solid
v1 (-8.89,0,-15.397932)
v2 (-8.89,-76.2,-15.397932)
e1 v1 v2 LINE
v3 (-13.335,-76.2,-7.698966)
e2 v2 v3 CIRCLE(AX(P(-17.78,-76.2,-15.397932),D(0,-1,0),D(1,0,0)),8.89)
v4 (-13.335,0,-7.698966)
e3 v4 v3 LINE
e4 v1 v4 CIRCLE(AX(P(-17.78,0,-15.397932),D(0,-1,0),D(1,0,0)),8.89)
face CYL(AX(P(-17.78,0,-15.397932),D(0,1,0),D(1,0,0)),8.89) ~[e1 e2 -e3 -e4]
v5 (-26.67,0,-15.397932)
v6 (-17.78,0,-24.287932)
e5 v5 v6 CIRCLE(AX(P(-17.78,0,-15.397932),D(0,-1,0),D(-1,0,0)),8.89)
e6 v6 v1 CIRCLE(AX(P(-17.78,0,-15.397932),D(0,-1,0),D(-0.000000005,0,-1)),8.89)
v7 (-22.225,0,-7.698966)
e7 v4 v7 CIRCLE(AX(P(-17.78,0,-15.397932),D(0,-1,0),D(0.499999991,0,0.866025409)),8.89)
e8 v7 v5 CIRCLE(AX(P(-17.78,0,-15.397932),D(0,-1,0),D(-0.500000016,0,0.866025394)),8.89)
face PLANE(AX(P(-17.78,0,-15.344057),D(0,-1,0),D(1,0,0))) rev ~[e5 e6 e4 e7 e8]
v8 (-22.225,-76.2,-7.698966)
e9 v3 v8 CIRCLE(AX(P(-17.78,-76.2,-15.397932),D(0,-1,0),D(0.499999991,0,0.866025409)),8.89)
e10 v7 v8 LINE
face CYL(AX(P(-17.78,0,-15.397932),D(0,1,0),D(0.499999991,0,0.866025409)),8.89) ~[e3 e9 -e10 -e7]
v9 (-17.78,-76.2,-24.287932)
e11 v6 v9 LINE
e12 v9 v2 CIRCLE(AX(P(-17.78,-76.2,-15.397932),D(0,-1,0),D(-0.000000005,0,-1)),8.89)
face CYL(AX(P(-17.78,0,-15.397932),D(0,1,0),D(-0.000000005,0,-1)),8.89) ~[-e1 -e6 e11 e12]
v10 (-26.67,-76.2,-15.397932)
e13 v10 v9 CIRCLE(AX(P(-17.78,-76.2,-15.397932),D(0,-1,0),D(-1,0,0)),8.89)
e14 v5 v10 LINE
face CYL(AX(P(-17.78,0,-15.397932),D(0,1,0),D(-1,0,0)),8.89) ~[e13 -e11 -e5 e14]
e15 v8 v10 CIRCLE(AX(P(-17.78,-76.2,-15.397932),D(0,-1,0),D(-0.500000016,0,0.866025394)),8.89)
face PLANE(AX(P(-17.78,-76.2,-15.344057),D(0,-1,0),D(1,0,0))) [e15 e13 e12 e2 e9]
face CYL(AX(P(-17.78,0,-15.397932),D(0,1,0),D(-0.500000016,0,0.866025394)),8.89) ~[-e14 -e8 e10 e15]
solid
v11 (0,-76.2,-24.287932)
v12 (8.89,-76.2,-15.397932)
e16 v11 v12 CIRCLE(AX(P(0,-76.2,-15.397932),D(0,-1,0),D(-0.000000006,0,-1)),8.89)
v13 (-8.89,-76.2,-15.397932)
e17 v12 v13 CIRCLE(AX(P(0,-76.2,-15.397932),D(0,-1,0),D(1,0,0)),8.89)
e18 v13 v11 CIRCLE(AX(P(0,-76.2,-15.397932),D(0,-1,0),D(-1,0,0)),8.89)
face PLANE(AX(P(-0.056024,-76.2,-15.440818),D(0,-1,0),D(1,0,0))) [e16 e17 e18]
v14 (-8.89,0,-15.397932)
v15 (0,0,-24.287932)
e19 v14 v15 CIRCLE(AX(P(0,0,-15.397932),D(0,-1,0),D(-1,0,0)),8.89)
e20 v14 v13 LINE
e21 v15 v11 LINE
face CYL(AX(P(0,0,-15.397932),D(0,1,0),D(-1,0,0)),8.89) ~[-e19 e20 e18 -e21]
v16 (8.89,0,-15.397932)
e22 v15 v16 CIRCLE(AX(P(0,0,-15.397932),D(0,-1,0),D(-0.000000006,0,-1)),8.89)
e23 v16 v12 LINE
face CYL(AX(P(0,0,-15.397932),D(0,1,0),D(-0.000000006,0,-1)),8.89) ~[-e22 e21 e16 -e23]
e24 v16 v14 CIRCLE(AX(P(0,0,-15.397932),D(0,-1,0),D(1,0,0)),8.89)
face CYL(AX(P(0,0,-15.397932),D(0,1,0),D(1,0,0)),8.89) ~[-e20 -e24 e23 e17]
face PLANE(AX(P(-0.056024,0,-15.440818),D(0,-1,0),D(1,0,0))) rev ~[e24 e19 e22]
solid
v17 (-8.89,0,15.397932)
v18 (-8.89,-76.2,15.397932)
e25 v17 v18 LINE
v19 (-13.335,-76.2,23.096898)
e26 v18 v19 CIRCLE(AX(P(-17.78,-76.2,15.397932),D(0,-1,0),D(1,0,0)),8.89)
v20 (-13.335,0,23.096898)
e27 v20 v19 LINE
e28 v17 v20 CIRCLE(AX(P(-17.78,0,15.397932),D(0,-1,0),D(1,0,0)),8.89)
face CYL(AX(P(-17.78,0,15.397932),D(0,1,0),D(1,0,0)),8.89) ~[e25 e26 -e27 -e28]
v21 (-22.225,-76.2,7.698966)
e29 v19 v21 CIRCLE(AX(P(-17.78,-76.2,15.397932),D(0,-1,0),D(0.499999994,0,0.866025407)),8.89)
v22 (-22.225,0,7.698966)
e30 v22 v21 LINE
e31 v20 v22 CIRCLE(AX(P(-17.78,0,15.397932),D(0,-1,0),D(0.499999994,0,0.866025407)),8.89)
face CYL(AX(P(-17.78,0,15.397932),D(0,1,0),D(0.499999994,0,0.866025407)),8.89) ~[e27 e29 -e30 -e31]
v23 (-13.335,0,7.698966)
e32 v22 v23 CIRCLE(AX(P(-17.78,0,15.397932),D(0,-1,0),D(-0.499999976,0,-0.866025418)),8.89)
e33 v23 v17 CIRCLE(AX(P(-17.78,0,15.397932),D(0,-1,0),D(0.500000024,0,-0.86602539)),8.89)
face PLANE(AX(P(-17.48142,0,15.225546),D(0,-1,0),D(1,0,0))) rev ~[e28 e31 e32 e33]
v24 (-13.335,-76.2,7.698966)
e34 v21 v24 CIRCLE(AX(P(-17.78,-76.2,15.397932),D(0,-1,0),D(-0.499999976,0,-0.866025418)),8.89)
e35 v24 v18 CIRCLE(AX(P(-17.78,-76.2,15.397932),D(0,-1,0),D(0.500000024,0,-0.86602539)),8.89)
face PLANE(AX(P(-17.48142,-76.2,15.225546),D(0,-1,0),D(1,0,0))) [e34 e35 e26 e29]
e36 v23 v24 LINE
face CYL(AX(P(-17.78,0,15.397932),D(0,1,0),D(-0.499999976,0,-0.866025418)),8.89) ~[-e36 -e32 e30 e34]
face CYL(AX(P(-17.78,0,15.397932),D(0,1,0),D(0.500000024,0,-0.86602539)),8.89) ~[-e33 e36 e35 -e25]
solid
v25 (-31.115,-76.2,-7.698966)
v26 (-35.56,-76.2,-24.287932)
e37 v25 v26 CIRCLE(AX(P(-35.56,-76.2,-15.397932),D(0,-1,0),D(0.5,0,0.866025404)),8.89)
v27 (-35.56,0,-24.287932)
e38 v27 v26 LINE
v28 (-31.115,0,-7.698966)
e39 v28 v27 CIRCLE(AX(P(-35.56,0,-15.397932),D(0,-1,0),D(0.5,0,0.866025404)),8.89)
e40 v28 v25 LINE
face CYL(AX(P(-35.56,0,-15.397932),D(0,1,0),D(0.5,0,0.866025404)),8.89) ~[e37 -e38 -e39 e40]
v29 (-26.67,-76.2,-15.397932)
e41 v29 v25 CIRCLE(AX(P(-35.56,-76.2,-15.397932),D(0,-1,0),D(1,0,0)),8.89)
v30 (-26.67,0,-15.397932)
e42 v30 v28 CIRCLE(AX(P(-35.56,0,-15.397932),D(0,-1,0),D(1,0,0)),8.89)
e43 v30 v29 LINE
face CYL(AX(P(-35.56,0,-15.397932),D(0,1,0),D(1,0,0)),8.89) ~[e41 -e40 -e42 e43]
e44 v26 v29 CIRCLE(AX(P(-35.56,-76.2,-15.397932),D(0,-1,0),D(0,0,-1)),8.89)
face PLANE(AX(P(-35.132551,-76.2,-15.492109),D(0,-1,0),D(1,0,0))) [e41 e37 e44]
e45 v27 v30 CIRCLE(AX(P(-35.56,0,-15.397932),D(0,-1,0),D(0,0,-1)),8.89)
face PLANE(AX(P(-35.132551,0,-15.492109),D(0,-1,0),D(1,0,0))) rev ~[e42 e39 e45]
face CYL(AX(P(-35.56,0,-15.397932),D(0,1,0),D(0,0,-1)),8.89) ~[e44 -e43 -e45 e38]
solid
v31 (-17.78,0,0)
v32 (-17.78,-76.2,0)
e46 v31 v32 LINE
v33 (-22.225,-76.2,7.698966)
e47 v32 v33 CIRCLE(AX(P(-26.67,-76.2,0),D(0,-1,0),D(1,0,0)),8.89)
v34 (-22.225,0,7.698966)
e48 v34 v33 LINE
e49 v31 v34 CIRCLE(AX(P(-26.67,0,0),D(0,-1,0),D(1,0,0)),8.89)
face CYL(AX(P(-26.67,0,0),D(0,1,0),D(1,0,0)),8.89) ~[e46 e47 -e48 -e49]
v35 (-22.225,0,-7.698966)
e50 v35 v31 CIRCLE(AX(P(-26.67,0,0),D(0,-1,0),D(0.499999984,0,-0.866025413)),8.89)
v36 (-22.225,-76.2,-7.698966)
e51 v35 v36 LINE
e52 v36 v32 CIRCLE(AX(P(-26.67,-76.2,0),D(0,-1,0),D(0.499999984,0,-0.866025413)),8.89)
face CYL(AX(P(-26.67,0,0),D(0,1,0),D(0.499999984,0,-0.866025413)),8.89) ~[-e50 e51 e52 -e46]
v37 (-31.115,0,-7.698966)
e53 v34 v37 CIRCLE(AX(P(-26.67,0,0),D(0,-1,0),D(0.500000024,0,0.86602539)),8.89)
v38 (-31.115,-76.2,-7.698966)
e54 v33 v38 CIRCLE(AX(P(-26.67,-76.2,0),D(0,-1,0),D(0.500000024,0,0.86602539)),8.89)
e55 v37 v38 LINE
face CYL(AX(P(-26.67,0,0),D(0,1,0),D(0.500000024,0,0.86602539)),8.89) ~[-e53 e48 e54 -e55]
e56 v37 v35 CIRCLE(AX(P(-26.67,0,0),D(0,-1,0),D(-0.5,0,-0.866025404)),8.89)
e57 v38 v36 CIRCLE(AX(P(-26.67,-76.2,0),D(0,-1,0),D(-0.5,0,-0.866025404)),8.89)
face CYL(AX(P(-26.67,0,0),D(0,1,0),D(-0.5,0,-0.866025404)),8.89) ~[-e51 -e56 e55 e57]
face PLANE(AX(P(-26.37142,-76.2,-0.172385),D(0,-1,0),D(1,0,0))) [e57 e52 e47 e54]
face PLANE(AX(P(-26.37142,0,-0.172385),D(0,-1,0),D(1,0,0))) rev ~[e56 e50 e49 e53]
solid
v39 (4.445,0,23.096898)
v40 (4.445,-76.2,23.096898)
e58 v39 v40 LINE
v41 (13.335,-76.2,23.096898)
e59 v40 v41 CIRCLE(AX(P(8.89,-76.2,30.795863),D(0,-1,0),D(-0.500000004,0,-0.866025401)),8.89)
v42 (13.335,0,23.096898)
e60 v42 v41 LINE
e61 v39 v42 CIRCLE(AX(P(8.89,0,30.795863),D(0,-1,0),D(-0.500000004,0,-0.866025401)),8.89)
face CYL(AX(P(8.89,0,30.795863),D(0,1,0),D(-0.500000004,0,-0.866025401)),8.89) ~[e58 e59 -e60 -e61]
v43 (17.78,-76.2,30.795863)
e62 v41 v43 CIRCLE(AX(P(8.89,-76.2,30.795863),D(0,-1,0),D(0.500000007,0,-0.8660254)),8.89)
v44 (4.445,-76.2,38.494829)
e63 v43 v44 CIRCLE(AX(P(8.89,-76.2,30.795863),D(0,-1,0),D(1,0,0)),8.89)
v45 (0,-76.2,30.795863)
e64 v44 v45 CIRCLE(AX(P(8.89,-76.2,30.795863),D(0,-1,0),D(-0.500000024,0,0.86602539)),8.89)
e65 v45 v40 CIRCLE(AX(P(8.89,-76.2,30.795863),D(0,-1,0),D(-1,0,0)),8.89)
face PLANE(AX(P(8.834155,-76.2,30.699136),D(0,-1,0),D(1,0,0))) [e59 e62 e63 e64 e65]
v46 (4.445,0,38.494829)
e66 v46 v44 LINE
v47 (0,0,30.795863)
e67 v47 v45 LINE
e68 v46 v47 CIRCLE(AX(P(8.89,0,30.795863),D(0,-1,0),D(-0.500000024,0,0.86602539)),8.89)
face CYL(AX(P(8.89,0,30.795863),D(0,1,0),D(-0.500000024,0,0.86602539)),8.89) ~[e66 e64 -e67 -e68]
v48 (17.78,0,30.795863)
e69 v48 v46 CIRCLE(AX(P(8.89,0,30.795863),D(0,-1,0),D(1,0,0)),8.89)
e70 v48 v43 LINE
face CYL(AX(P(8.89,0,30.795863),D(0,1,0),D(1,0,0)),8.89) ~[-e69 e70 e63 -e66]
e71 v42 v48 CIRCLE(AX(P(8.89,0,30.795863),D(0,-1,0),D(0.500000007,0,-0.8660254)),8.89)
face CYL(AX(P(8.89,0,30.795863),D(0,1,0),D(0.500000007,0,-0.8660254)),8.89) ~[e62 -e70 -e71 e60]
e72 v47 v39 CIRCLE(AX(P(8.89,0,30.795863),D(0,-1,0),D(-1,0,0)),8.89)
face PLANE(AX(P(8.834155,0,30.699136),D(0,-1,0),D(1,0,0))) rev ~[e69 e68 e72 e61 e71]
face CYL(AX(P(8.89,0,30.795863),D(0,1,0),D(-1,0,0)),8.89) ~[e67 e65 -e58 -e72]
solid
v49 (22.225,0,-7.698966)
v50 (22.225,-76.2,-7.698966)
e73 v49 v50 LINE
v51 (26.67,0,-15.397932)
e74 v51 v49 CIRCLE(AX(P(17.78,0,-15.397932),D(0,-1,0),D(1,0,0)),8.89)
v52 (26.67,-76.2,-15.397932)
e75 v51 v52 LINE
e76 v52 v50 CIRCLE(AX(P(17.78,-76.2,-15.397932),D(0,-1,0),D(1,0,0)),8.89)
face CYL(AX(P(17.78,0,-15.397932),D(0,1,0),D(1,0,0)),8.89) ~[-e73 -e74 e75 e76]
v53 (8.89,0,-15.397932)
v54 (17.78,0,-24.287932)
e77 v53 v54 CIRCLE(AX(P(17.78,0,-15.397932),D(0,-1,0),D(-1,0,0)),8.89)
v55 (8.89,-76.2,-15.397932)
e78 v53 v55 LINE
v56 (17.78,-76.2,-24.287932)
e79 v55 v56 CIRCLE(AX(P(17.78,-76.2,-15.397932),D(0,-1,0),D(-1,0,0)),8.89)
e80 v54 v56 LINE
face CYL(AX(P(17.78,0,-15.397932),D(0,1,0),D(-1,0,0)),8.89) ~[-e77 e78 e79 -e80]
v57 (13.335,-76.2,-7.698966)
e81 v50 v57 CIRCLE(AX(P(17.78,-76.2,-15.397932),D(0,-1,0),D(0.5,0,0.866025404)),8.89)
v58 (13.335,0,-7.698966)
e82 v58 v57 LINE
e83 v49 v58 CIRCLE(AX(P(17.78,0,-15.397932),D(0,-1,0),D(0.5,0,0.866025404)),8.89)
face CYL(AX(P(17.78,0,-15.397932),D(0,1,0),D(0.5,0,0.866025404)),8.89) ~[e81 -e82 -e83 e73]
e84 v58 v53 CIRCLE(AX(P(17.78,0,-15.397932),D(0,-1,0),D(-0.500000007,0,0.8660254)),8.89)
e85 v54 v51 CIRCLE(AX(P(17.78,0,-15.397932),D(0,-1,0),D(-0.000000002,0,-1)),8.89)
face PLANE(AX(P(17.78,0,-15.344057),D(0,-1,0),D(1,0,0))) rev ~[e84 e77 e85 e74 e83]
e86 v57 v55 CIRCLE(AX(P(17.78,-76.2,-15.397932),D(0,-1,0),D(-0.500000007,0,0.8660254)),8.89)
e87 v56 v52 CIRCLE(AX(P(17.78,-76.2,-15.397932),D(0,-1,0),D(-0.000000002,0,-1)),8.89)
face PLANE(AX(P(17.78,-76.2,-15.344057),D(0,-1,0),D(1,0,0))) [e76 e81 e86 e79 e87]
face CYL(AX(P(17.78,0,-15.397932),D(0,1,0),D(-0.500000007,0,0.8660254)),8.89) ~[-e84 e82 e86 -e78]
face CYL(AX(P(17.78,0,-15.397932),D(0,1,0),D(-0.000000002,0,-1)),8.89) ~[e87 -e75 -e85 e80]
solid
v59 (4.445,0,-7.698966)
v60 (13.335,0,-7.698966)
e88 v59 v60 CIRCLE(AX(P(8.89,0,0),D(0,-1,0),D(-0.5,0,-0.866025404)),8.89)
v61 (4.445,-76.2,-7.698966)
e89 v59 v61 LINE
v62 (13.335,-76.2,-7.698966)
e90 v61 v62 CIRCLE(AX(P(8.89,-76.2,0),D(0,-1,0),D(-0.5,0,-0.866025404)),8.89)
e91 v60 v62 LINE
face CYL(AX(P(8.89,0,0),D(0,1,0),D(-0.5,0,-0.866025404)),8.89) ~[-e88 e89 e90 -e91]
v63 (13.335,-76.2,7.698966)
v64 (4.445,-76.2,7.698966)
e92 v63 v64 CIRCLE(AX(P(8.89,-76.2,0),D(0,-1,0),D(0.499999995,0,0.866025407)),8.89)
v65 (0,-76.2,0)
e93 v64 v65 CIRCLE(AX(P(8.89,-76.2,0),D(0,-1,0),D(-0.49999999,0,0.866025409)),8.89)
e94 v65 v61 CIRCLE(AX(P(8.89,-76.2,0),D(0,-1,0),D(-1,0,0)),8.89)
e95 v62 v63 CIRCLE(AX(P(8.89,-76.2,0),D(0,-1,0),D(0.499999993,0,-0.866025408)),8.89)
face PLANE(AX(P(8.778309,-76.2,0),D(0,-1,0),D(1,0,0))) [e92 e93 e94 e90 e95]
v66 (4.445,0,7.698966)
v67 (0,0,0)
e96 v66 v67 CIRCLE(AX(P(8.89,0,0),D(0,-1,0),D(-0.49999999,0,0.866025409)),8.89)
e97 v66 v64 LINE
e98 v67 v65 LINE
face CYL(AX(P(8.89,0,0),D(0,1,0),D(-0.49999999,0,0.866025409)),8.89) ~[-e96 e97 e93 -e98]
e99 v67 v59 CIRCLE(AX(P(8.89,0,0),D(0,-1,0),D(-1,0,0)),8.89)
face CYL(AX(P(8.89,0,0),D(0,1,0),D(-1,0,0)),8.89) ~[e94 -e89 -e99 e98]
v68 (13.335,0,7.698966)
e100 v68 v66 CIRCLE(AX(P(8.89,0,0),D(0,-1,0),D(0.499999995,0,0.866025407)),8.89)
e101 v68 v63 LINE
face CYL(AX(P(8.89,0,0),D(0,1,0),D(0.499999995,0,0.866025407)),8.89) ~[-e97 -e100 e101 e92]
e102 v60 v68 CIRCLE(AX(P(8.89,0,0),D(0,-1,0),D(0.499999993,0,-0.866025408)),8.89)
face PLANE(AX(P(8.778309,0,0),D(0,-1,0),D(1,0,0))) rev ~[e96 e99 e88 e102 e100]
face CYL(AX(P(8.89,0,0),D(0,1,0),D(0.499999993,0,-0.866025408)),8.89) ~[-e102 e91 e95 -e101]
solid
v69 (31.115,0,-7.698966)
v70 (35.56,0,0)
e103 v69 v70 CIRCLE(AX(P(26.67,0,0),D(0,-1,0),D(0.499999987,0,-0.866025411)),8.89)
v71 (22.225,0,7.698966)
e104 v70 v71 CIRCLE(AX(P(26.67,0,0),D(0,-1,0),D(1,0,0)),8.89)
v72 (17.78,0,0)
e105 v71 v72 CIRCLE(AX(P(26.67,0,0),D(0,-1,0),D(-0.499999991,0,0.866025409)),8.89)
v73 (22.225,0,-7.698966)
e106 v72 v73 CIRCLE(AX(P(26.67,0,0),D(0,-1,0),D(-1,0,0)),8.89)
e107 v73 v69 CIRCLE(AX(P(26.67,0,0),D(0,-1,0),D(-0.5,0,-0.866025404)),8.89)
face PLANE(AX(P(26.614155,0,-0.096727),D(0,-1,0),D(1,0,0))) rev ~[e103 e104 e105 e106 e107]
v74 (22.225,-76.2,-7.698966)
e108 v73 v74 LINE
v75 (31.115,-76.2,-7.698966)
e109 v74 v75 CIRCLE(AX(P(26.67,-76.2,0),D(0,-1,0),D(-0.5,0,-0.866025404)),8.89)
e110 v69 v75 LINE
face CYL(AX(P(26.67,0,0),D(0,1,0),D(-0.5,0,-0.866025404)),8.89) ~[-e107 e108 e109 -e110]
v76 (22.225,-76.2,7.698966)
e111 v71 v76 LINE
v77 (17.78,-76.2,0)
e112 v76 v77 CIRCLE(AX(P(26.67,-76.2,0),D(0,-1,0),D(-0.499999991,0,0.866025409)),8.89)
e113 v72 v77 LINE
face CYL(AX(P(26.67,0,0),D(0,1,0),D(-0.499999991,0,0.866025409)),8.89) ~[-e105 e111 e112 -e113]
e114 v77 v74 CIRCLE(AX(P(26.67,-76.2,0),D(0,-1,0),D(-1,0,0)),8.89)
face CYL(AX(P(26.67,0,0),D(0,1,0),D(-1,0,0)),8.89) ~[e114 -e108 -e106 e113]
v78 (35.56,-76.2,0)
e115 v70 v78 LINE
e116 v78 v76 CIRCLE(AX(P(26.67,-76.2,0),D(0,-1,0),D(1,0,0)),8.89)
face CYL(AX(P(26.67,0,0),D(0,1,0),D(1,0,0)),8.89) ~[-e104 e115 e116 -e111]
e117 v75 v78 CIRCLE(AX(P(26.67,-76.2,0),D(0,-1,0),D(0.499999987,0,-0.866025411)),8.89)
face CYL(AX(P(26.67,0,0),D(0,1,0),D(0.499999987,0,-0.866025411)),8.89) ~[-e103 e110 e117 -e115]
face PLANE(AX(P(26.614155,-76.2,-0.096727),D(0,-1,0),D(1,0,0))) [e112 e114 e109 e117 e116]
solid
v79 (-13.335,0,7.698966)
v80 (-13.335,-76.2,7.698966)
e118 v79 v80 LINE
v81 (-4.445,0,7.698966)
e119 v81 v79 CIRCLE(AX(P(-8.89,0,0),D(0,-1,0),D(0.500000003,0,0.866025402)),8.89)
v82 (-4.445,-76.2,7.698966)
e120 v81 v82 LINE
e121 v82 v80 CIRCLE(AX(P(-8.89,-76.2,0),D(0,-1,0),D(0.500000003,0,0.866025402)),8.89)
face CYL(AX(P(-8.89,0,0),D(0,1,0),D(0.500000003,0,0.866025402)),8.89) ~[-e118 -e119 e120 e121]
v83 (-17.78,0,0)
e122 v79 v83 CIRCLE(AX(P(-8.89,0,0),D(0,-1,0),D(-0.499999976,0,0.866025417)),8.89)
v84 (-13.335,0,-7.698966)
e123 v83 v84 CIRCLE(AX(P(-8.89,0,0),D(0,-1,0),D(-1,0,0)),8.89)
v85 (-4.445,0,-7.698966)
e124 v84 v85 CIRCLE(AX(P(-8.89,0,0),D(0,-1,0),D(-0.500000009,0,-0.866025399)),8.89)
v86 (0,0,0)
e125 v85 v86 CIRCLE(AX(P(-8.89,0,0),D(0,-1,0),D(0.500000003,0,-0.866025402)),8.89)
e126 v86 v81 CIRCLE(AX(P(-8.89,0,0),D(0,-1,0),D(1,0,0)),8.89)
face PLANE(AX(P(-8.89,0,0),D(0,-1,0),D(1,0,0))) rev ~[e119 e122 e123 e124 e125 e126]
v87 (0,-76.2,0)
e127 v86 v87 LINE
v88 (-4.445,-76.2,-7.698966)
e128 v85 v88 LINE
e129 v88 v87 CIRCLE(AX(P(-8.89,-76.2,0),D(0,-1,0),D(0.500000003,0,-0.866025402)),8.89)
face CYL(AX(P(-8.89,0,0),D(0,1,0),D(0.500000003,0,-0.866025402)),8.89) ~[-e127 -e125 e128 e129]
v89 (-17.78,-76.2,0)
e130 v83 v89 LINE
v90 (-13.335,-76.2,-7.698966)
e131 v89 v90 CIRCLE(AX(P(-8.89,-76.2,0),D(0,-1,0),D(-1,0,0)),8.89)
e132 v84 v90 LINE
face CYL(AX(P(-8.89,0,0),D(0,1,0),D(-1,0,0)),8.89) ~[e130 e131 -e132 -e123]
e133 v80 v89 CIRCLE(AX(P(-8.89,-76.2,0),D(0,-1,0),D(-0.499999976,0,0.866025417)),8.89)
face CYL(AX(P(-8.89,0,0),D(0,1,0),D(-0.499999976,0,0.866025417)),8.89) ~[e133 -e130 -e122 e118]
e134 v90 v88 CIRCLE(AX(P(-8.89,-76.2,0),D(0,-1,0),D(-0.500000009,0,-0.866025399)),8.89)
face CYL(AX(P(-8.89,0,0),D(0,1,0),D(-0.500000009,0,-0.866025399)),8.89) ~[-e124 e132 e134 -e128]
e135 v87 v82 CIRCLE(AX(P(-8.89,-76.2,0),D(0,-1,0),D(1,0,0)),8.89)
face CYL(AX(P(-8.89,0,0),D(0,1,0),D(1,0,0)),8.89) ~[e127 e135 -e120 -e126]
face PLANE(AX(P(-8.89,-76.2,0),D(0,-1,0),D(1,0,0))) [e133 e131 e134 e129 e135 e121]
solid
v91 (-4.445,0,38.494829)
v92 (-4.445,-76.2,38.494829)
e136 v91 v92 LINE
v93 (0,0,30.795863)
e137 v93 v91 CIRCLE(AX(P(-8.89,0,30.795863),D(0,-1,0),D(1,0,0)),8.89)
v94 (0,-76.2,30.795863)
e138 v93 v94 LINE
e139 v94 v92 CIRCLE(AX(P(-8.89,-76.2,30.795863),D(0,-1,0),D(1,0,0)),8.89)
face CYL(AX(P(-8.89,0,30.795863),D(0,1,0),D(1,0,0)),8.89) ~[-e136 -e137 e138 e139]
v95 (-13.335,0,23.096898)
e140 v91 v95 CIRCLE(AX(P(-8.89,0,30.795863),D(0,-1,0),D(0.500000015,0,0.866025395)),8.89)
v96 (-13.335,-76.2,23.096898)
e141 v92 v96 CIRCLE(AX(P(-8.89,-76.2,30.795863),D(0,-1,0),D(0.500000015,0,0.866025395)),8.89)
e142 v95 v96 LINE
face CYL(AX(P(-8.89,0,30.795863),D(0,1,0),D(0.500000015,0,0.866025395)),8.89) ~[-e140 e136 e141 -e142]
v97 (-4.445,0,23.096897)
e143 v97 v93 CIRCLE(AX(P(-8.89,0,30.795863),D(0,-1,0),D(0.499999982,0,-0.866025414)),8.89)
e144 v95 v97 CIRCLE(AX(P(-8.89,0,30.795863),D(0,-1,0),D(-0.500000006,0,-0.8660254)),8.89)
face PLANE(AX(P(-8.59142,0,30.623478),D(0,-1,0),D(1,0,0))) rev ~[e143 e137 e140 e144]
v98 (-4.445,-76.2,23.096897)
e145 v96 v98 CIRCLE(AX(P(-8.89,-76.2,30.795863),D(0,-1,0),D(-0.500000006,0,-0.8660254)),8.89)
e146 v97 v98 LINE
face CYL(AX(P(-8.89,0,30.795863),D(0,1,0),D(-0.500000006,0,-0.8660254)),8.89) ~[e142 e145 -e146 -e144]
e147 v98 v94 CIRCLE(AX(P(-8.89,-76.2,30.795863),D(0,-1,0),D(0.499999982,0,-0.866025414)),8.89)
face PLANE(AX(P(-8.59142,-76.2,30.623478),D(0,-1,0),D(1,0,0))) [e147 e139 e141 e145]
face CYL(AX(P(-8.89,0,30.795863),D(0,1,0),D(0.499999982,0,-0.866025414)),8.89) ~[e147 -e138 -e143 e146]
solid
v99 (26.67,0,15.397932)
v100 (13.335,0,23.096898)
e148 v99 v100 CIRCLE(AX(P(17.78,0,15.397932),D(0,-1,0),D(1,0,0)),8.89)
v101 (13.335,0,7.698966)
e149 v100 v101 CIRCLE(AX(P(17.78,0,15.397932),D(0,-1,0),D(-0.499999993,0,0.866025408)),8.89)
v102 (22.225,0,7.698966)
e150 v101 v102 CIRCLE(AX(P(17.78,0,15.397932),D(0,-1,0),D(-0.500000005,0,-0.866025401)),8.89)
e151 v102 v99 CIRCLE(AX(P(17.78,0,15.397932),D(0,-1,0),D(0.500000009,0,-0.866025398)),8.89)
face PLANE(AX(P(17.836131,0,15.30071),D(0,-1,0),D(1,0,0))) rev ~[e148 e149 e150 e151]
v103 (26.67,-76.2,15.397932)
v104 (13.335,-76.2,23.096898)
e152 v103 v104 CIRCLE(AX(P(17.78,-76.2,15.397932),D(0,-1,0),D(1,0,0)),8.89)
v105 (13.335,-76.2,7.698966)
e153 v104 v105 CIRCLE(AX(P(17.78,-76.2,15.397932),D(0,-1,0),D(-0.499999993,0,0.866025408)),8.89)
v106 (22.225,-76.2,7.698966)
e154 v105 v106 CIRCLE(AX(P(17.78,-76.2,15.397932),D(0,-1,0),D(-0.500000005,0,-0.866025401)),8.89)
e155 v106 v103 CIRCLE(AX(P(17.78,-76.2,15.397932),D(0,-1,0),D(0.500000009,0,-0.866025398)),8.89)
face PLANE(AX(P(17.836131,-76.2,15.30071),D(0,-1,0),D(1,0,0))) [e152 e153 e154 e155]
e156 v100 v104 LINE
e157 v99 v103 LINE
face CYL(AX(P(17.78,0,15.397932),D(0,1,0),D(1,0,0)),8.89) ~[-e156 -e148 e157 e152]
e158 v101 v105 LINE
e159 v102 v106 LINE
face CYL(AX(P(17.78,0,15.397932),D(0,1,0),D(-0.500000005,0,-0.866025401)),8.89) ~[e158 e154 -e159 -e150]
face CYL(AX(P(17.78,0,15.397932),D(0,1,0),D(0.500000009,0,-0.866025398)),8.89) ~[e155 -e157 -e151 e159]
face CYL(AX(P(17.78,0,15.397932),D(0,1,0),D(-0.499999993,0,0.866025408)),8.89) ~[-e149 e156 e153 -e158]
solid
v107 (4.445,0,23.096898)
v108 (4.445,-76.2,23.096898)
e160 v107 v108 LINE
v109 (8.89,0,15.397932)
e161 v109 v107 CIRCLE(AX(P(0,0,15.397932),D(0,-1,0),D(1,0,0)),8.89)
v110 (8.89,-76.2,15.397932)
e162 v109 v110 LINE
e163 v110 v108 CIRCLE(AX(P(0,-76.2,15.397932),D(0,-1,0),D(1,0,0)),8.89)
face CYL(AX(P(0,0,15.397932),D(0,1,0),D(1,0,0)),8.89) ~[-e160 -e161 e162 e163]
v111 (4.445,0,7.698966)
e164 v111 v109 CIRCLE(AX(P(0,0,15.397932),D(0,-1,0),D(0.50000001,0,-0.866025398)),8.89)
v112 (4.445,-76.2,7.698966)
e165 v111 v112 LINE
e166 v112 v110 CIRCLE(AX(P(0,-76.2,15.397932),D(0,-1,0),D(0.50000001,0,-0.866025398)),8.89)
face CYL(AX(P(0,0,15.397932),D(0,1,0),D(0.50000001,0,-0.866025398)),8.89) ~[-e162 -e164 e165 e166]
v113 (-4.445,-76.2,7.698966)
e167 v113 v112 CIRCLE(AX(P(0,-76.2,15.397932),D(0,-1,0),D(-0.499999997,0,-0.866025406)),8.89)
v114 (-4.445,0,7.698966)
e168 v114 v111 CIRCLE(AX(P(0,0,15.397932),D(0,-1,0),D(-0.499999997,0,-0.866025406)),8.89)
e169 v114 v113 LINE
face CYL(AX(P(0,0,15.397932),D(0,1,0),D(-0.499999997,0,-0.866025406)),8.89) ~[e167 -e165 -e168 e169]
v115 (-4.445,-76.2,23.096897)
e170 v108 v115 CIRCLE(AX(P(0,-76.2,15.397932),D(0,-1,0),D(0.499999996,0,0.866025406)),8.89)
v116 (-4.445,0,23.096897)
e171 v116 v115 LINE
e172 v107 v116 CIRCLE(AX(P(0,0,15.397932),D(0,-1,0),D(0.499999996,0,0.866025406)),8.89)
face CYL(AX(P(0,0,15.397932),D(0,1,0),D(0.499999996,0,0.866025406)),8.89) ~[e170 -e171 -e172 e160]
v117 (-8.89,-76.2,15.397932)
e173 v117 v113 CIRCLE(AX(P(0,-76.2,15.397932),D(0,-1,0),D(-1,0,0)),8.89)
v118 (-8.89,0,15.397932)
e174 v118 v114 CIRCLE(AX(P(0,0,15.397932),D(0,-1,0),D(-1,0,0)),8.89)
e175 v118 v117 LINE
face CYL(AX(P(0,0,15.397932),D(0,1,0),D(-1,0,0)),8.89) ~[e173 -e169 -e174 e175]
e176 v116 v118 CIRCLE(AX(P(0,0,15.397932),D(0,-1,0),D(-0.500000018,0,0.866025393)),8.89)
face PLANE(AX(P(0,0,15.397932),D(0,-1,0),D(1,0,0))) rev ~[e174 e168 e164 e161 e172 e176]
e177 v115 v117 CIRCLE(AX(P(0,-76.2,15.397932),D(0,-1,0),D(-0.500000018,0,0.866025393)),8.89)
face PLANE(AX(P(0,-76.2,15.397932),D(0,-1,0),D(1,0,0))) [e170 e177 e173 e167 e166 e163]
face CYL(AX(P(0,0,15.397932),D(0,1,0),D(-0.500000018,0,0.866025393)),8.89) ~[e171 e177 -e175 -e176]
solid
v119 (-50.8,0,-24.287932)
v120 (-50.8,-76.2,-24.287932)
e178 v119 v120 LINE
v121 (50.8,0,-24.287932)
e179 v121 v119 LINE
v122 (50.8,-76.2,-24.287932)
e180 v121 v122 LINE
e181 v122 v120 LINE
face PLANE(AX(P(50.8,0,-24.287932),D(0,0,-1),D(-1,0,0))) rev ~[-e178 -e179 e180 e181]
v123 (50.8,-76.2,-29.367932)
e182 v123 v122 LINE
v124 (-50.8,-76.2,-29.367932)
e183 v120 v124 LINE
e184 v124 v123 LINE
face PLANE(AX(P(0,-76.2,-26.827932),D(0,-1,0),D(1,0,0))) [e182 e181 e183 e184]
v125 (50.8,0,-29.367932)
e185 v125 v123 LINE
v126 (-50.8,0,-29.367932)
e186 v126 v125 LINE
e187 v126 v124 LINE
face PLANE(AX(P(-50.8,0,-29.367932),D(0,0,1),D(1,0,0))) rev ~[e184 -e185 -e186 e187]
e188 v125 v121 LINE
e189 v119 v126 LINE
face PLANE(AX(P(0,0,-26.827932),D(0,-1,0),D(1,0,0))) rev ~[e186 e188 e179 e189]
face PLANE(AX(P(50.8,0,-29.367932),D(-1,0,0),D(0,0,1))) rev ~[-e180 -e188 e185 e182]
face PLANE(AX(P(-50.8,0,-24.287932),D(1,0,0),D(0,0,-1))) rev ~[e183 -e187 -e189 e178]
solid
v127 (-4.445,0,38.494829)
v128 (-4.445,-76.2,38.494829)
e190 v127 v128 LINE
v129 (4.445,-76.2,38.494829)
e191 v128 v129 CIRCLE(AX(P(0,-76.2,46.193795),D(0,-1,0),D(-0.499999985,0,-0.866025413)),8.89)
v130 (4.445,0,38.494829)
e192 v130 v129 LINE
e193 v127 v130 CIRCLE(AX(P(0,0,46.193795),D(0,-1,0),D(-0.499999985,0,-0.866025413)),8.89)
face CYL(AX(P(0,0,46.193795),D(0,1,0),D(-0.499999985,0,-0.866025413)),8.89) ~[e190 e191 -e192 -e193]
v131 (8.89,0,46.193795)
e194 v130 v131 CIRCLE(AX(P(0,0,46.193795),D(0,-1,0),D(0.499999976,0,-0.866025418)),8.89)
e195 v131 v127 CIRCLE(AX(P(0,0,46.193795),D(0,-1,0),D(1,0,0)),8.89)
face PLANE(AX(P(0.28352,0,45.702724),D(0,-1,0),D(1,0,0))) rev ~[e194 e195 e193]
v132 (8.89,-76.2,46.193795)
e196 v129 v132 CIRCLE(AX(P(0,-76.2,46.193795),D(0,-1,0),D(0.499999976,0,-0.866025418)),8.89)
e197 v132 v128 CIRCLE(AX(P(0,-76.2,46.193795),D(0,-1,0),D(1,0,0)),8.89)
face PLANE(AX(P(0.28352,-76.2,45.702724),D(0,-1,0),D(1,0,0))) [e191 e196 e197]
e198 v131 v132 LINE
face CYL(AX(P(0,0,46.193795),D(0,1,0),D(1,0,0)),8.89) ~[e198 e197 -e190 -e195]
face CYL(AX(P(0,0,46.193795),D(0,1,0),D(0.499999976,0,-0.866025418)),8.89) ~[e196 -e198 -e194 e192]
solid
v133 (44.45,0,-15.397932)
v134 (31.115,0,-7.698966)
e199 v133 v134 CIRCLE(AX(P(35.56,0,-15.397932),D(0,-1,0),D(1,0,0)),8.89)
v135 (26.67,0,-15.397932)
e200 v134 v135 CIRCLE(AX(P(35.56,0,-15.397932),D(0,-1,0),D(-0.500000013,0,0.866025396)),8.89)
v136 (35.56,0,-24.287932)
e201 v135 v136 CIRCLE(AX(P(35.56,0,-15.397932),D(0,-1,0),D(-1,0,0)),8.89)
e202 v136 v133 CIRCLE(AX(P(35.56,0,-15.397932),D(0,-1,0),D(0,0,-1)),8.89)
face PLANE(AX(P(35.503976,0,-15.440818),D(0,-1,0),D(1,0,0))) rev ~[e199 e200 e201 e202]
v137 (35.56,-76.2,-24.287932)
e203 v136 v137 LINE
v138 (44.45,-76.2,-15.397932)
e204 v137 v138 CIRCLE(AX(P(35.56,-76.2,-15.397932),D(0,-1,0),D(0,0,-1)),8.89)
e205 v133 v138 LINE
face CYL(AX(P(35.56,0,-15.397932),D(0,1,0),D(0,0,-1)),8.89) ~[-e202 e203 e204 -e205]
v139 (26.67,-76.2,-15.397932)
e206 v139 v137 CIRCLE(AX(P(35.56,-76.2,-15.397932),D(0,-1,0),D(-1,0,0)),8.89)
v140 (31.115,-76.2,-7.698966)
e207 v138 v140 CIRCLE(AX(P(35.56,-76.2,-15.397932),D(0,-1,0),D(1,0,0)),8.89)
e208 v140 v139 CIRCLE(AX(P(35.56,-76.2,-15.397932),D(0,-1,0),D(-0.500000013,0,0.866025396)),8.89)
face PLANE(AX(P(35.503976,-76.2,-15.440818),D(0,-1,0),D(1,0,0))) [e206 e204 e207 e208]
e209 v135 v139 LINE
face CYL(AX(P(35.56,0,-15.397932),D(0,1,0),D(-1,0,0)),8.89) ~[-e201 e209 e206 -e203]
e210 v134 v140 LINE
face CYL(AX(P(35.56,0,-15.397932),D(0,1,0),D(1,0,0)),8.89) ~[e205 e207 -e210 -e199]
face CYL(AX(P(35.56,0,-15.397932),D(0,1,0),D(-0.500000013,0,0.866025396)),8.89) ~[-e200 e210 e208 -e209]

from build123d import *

# Parameters (mm, degrees)
F1_DEPTH = 76.2


with BuildPart() as f1:
    # F0 (on Front) → F1 (new body)
    with BuildSketch(Plane.XZ):
        with BuildLine():
            ThreePointArc((-13.3350000511, 23.0968975485), (-25.478965917, 19.8429315452), (-22.224999783, 7.6989657144))
            ThreePointArc((-22.224999783, 7.6989657144), (-17.7799997536, 6.5079316793), (-13.3349997903, 7.6989659607))
            ThreePointArc((-13.3349997903, 7.6989659607), (-10.0810340998, 10.9529317842), (-8.89, 15.3979316793))
            ThreePointArc((-8.89, 15.3979316793), (-10.0810341751, 19.8429317049), (-13.3350000511, 23.0968975485))
        make_face()
    extrude(amount=F1_DEPTH)


with BuildPart() as f1b:
    # F0 (on Front) → F1, piece 2 (new body)
    with BuildSketch(Plane.XZ):
        with BuildLine():
            ThreePointArc((-8.89, 15.3979316793), (-7.6989658311, 10.9529316645), (-4.4449999705, 7.6989658226))
            ThreePointArc((-4.4449999705, 7.6989658226), (6.75e-08, 6.5079316793), (4.4450000875, 7.6989658901))
            ThreePointArc((4.4450000875, 7.6989658901), (7.6989658649, 10.952931723), (8.89, 15.3979316793))
            ThreePointArc((8.89, 15.3979316793), (7.6989658283, 19.842931699), (4.4449999606, 23.0968975417))
            ThreePointArc((4.4449999606, 23.0968975417), (-1.166e-07, 24.2879316793), (-4.4450001625, 23.0968974251))
            ThreePointArc((-4.4450001625, 23.0968974251), (-7.6989658866, 19.842931598), (-8.89, 15.3979316793))
        make_face()
    extrude(amount=F1_DEPTH)


with BuildPart() as f1c:
    # F0 (on Front) → F1, piece 3 (new body)
    with BuildSketch(Plane.XZ):
        with BuildLine():
            ThreePointArc((8.89, 15.3979316793), (10.0810341482, 10.9529317004), (13.3349999579, 7.698965864))
            ThreePointArc((13.3349999579, 7.698965864), (17.780000023, 6.5079316793), (22.2250000819, 7.6989658869))
            ThreePointArc((22.2250000819, 7.6989658869), (25.4789658633, 10.9529317202), (26.67, 15.3979316793))
            ThreePointArc((26.67, 15.3979316793), (22.2250000328, 23.0968975), (13.3350000657, 23.0968975568))
            ThreePointArc((13.3350000657, 23.0968975568), (10.0810341793, 19.8429317121), (8.89, 15.3979316793))
        make_face()
    extrude(amount=F1_DEPTH)


with BuildPart() as f1d:
    # F0 (on Front) → F1, piece 4 (new body)
    with BuildSketch(Plane.XZ):
        with BuildLine():
            ThreePointArc((22.2250000819, 7.6989658869), (18.971034184, 4.445000041), (17.78, 0))
            ThreePointArc((17.78, 0), (18.9710341591, -4.4449999979), (22.2249999958, -7.6989658372))
            ThreePointArc((22.2249999958, -7.6989658372), (26.6699999325, -8.89), (31.1149998873, -7.6989659047))
            ThreePointArc((31.1149998873, -7.6989659047), (34.3689658071, -4.4450000564), (35.56, 0))
            ThreePointArc((35.56, 0), (31.115000041, 7.698965816), (22.2250000819, 7.6989658869))
        make_face()
    extrude(amount=F1_DEPTH)


with BuildPart() as f1e:
    # F0 (on Front) → F1, piece 5 (new body)
    with BuildSketch(Plane.XZ):
        with BuildLine():
            ThreePointArc((4.4450000875, 7.6989658901), (1.1910341856, 4.4450000437), (0, 0))
            ThreePointArc((0, 0), (1.1910341607, -4.4450000007), (4.4450000013, -7.6989658404))
            ThreePointArc((4.4450000013, -7.6989658404), (8.8899999644, -8.89), (13.3349999371, -7.698965876))
            ThreePointArc((13.3349999371, -7.698965876), (16.5889658215, -4.4450000314), (17.78, 0))
            ThreePointArc((17.78, 0), (16.5889658275, 4.4450000211), (13.3349999579, 7.698965864))
            ThreePointArc((13.3349999579, 7.698965864), (8.8900000262, 8.89), (4.4450000875, 7.6989658901))
        make_face()
    extrude(amount=F1_DEPTH)


with BuildPart() as f1f:
    # F0 (on Front) → F1, piece 6 (new body)
    with BuildSketch(Plane.XZ):
        with BuildLine():
            ThreePointArc((-13.3349997903, 7.6989659607), (-16.5889657791, 4.4450001049), (-17.78, 0))
            ThreePointArc((-17.78, 0), (-16.5889658625, -4.4449999603), (-13.3350000793, -7.6989657939))
            ThreePointArc((-13.3350000793, -7.6989657939), (-8.8900000289, -8.89), (-4.4449999708, -7.6989658228))
            ThreePointArc((-4.4449999708, -7.6989658228), (-1.1910341519, -4.4449999854), (0, 0))
            ThreePointArc((0, 0), (-1.1910341518, 4.4449999853), (-4.4449999705, 7.6989658226))
            ThreePointArc((-4.4449999705, 7.6989658226), (-8.8899998619, 8.89), (-13.3349997903, 7.6989659607))
        make_face()
    extrude(amount=F1_DEPTH)


with BuildPart() as f1g:
    # F0 (on Front) → F1, piece 7 (new body)
    with BuildSketch(Plane.XZ):
        with BuildLine():
            ThreePointArc((-22.2250001435, -7.6989659225), (-18.9710342018, -4.4450000718), (-17.78, 0))
            ThreePointArc((-17.78, 0), (-18.9710340977, 4.4449998915), (-22.224999783, 7.6989657144))
            ThreePointArc((-22.224999783, 7.6989657144), (-34.3689657758, 4.4450001106), (-31.1150000042, -7.6989658372))
            ThreePointArc((-31.1150000042, -7.6989658372), (-26.6700000853, -8.89), (-22.2250001435, -7.6989659225))
        make_face()
    extrude(amount=F1_DEPTH)


with BuildPart() as f1h:
    # F0 (on Front) → F1, piece 8 (new body)
    with BuildSketch(Plane.XZ):
        with BuildLine():
            ThreePointArc((-26.67, -15.3979316793), (-27.8610341616, -10.9529316772), (-31.1150000042, -7.6989658372))
            ThreePointArc((-31.1150000042, -7.6989658372), (-44.1470805963, -13.0970303707), (-35.56, -24.2879316793))
            ThreePointArc((-35.56, -24.2879316793), (-29.2738207153, -21.684110964), (-26.67, -15.3979316793))
        make_face()
    extrude(amount=F1_DEPTH)


with BuildPart() as f1i:
    # F0 (on Front) → F1, piece 9 (new body)
    with BuildSketch(Plane.XZ):
        with BuildLine():
            ThreePointArc((-13.3350000793, -7.6989657939), (-17.7800001286, -6.5079316793), (-22.2250001435, -7.6989659225))
            ThreePointArc((-22.2250001435, -7.6989659225), (-25.4789658811, -10.952931751), (-26.67, -15.3979316793))
            ThreePointArc((-26.67, -15.3979316793), (-24.0661792991, -21.6841109496), (-17.7800000407, -24.2879316793))
            ThreePointArc((-17.7800000407, -24.2879316793), (-11.4938207296, -21.6841109784), (-8.89, -15.3979316793))
            ThreePointArc((-8.89, -15.3979316793), (-10.0810341832, -10.9529316396), (-13.3350000793, -7.6989657939))
        make_face()
    extrude(amount=F1_DEPTH)


with BuildPart() as f1j:
    # F0 (on Front) → F1, piece 10 (new body)
    with BuildSketch(Plane.XZ):
        with BuildLine():
            ThreePointArc((4.4450000013, -7.6989658404), (1.76e-08, -6.5079316793), (-4.4449999708, -7.6989658228))
            ThreePointArc((-4.4449999708, -7.6989658228), (-7.6989658312, -10.9529316647), (-8.89, -15.3979316793))
            ThreePointArc((-8.89, -15.3979316793), (-6.2861793033, -21.6841109454), (-5.26e-08, -24.2879316793))
            ThreePointArc((-5.26e-08, -24.2879316793), (6.2861792662, -21.6841109826), (8.89, -15.3979316793))
            ThreePointArc((8.89, -15.3979316793), (7.69896584, -10.9529316799), (4.4450000013, -7.6989658404))
        make_face()
    extrude(amount=F1_DEPTH)


with BuildPart() as f1k:
    # F0 (on Front) → F1, piece 11 (new body)
    with BuildSketch(Plane.XZ):
        with BuildLine():
            ThreePointArc((22.2249999958, -7.6989658372), (17.7799999612, -6.5079316793), (13.3349999371, -7.698965876))
            ThreePointArc((13.3349999371, -7.698965876), (10.0810341422, -10.9529317107), (8.89, -15.3979316793))
            ThreePointArc((8.89, -15.3979316793), (11.4938207085, -21.6841109572), (17.7799999808, -24.2879316793))
            ThreePointArc((17.7799999808, -24.2879316793), (24.066179278, -21.6841109708), (26.67, -15.3979316793))
            ThreePointArc((26.67, -15.3979316793), (25.4789658384, -10.9529316772), (22.2249999958, -7.6989658372))
        make_face()
    extrude(amount=F1_DEPTH)


with BuildPart() as f1l:
    # F0 (on Front) → F1, piece 12 (new body)
    with BuildSketch(Plane.XZ):
        with BuildLine():
            ThreePointArc((31.1149998873, -7.6989659047), (27.8610341278, -10.9529317356), (26.67, -15.3979316793))
            ThreePointArc((26.67, -15.3979316793), (29.2738207153, -21.684110964), (35.56, -24.2879316793))
            ThreePointArc((35.56, -24.2879316793), (41.8461792847, -21.684110964), (44.45, -15.3979316793))
            ThreePointArc((44.45, -15.3979316793), (40.0049999436, -7.6989658071), (31.1149998873, -7.6989659047))
        make_face()
    extrude(amount=F1_DEPTH)


with BuildPart() as f1m:
    # F0 (on Front) → F1, piece 13 (new body)
    with BuildSketch(Plane.XZ):
        Polygon((-17.7800000407, -24.2879316793), (-35.56, -24.2879316793), (-50.8, -24.2879316793), (-50.8, -29.3679316793), (50.8, -29.3679316793), (50.8, -24.2879316793), (35.56, -24.2879316793), (17.7799999808, -24.2879316793), (-5.26e-08, -24.2879316793), align=None)
    extrude(amount=F1_DEPTH)


with BuildPart() as f1n:
    # F0 (on Front) → F1, piece 14 (new body)
    with BuildSketch(Plane.XZ):
        with BuildLine():
            ThreePointArc((-4.4449998636, 38.4948291195), (-16.5889657855, 35.2408634523), (-13.3350000511, 23.0968975485))
            ThreePointArc((-13.3350000511, 23.0968975485), (-8.8900001234, 21.9058633586), (-4.4450001625, 23.0968974251))
            ThreePointArc((-4.4450001625, 23.0968974251), (-1.1910342073, 26.3508632773), (0, 30.7958633586))
            ThreePointArc((0, 30.7958633586), (-1.191034121, 35.2408632904), (-4.4449998636, 38.4948291195))
        make_face()
    extrude(amount=F1_DEPTH)


with BuildPart() as f1o:
    # F0 (on Front) → F1, piece 15 (new body)
    with BuildSketch(Plane.XZ):
        with BuildLine():
            ThreePointArc((4.4449997876, 38.4948290756), (1.191034099, 35.2408632524), (0, 30.7958633586))
            ThreePointArc((0, 30.7958633586), (1.191034149, 26.3508633783), (4.4449999606, 23.0968975417))
            ThreePointArc((4.4449999606, 23.0968975417), (8.8900000152, 21.9058633586), (13.3350000657, 23.0968975568))
            ThreePointArc((13.3350000657, 23.0968975568), (16.5889658586, 26.3508633914), (17.78, 30.7958633586))
            ThreePointArc((17.78, 30.7958633586), (13.3349998938, 38.4948292595), (4.4449997876, 38.4948290756))
        make_face()
    extrude(amount=F1_DEPTH)


with BuildPart() as f1p:
    # F0 (on Front) → F1, piece 16 (new body)
    with BuildSketch(Plane.XZ):
        with BuildLine():
            ThreePointArc((8.89, 46.1937950379), (-4.4450000682, 53.8927608381), (-4.4449998636, 38.4948291195))
            ThreePointArc((-4.4449998636, 38.4948291195), (-4.39e-08, 37.3037950379), (4.4449997876, 38.4948290756))
            ThreePointArc((4.4449997876, 38.4948290756), (7.6989657783, 41.7487949317), (8.89, 46.1937950379))
        make_face()
    extrude(amount=F1_DEPTH)


solid = Compound([f1.part, f1b.part, f1c.part, f1d.part, f1e.part, f1f.part, f1g.part, f1h.part, f1i.part, f1j.part, f1k.part, f1l.part, f1m.part, f1n.part, f1o.part, f1p.part])
